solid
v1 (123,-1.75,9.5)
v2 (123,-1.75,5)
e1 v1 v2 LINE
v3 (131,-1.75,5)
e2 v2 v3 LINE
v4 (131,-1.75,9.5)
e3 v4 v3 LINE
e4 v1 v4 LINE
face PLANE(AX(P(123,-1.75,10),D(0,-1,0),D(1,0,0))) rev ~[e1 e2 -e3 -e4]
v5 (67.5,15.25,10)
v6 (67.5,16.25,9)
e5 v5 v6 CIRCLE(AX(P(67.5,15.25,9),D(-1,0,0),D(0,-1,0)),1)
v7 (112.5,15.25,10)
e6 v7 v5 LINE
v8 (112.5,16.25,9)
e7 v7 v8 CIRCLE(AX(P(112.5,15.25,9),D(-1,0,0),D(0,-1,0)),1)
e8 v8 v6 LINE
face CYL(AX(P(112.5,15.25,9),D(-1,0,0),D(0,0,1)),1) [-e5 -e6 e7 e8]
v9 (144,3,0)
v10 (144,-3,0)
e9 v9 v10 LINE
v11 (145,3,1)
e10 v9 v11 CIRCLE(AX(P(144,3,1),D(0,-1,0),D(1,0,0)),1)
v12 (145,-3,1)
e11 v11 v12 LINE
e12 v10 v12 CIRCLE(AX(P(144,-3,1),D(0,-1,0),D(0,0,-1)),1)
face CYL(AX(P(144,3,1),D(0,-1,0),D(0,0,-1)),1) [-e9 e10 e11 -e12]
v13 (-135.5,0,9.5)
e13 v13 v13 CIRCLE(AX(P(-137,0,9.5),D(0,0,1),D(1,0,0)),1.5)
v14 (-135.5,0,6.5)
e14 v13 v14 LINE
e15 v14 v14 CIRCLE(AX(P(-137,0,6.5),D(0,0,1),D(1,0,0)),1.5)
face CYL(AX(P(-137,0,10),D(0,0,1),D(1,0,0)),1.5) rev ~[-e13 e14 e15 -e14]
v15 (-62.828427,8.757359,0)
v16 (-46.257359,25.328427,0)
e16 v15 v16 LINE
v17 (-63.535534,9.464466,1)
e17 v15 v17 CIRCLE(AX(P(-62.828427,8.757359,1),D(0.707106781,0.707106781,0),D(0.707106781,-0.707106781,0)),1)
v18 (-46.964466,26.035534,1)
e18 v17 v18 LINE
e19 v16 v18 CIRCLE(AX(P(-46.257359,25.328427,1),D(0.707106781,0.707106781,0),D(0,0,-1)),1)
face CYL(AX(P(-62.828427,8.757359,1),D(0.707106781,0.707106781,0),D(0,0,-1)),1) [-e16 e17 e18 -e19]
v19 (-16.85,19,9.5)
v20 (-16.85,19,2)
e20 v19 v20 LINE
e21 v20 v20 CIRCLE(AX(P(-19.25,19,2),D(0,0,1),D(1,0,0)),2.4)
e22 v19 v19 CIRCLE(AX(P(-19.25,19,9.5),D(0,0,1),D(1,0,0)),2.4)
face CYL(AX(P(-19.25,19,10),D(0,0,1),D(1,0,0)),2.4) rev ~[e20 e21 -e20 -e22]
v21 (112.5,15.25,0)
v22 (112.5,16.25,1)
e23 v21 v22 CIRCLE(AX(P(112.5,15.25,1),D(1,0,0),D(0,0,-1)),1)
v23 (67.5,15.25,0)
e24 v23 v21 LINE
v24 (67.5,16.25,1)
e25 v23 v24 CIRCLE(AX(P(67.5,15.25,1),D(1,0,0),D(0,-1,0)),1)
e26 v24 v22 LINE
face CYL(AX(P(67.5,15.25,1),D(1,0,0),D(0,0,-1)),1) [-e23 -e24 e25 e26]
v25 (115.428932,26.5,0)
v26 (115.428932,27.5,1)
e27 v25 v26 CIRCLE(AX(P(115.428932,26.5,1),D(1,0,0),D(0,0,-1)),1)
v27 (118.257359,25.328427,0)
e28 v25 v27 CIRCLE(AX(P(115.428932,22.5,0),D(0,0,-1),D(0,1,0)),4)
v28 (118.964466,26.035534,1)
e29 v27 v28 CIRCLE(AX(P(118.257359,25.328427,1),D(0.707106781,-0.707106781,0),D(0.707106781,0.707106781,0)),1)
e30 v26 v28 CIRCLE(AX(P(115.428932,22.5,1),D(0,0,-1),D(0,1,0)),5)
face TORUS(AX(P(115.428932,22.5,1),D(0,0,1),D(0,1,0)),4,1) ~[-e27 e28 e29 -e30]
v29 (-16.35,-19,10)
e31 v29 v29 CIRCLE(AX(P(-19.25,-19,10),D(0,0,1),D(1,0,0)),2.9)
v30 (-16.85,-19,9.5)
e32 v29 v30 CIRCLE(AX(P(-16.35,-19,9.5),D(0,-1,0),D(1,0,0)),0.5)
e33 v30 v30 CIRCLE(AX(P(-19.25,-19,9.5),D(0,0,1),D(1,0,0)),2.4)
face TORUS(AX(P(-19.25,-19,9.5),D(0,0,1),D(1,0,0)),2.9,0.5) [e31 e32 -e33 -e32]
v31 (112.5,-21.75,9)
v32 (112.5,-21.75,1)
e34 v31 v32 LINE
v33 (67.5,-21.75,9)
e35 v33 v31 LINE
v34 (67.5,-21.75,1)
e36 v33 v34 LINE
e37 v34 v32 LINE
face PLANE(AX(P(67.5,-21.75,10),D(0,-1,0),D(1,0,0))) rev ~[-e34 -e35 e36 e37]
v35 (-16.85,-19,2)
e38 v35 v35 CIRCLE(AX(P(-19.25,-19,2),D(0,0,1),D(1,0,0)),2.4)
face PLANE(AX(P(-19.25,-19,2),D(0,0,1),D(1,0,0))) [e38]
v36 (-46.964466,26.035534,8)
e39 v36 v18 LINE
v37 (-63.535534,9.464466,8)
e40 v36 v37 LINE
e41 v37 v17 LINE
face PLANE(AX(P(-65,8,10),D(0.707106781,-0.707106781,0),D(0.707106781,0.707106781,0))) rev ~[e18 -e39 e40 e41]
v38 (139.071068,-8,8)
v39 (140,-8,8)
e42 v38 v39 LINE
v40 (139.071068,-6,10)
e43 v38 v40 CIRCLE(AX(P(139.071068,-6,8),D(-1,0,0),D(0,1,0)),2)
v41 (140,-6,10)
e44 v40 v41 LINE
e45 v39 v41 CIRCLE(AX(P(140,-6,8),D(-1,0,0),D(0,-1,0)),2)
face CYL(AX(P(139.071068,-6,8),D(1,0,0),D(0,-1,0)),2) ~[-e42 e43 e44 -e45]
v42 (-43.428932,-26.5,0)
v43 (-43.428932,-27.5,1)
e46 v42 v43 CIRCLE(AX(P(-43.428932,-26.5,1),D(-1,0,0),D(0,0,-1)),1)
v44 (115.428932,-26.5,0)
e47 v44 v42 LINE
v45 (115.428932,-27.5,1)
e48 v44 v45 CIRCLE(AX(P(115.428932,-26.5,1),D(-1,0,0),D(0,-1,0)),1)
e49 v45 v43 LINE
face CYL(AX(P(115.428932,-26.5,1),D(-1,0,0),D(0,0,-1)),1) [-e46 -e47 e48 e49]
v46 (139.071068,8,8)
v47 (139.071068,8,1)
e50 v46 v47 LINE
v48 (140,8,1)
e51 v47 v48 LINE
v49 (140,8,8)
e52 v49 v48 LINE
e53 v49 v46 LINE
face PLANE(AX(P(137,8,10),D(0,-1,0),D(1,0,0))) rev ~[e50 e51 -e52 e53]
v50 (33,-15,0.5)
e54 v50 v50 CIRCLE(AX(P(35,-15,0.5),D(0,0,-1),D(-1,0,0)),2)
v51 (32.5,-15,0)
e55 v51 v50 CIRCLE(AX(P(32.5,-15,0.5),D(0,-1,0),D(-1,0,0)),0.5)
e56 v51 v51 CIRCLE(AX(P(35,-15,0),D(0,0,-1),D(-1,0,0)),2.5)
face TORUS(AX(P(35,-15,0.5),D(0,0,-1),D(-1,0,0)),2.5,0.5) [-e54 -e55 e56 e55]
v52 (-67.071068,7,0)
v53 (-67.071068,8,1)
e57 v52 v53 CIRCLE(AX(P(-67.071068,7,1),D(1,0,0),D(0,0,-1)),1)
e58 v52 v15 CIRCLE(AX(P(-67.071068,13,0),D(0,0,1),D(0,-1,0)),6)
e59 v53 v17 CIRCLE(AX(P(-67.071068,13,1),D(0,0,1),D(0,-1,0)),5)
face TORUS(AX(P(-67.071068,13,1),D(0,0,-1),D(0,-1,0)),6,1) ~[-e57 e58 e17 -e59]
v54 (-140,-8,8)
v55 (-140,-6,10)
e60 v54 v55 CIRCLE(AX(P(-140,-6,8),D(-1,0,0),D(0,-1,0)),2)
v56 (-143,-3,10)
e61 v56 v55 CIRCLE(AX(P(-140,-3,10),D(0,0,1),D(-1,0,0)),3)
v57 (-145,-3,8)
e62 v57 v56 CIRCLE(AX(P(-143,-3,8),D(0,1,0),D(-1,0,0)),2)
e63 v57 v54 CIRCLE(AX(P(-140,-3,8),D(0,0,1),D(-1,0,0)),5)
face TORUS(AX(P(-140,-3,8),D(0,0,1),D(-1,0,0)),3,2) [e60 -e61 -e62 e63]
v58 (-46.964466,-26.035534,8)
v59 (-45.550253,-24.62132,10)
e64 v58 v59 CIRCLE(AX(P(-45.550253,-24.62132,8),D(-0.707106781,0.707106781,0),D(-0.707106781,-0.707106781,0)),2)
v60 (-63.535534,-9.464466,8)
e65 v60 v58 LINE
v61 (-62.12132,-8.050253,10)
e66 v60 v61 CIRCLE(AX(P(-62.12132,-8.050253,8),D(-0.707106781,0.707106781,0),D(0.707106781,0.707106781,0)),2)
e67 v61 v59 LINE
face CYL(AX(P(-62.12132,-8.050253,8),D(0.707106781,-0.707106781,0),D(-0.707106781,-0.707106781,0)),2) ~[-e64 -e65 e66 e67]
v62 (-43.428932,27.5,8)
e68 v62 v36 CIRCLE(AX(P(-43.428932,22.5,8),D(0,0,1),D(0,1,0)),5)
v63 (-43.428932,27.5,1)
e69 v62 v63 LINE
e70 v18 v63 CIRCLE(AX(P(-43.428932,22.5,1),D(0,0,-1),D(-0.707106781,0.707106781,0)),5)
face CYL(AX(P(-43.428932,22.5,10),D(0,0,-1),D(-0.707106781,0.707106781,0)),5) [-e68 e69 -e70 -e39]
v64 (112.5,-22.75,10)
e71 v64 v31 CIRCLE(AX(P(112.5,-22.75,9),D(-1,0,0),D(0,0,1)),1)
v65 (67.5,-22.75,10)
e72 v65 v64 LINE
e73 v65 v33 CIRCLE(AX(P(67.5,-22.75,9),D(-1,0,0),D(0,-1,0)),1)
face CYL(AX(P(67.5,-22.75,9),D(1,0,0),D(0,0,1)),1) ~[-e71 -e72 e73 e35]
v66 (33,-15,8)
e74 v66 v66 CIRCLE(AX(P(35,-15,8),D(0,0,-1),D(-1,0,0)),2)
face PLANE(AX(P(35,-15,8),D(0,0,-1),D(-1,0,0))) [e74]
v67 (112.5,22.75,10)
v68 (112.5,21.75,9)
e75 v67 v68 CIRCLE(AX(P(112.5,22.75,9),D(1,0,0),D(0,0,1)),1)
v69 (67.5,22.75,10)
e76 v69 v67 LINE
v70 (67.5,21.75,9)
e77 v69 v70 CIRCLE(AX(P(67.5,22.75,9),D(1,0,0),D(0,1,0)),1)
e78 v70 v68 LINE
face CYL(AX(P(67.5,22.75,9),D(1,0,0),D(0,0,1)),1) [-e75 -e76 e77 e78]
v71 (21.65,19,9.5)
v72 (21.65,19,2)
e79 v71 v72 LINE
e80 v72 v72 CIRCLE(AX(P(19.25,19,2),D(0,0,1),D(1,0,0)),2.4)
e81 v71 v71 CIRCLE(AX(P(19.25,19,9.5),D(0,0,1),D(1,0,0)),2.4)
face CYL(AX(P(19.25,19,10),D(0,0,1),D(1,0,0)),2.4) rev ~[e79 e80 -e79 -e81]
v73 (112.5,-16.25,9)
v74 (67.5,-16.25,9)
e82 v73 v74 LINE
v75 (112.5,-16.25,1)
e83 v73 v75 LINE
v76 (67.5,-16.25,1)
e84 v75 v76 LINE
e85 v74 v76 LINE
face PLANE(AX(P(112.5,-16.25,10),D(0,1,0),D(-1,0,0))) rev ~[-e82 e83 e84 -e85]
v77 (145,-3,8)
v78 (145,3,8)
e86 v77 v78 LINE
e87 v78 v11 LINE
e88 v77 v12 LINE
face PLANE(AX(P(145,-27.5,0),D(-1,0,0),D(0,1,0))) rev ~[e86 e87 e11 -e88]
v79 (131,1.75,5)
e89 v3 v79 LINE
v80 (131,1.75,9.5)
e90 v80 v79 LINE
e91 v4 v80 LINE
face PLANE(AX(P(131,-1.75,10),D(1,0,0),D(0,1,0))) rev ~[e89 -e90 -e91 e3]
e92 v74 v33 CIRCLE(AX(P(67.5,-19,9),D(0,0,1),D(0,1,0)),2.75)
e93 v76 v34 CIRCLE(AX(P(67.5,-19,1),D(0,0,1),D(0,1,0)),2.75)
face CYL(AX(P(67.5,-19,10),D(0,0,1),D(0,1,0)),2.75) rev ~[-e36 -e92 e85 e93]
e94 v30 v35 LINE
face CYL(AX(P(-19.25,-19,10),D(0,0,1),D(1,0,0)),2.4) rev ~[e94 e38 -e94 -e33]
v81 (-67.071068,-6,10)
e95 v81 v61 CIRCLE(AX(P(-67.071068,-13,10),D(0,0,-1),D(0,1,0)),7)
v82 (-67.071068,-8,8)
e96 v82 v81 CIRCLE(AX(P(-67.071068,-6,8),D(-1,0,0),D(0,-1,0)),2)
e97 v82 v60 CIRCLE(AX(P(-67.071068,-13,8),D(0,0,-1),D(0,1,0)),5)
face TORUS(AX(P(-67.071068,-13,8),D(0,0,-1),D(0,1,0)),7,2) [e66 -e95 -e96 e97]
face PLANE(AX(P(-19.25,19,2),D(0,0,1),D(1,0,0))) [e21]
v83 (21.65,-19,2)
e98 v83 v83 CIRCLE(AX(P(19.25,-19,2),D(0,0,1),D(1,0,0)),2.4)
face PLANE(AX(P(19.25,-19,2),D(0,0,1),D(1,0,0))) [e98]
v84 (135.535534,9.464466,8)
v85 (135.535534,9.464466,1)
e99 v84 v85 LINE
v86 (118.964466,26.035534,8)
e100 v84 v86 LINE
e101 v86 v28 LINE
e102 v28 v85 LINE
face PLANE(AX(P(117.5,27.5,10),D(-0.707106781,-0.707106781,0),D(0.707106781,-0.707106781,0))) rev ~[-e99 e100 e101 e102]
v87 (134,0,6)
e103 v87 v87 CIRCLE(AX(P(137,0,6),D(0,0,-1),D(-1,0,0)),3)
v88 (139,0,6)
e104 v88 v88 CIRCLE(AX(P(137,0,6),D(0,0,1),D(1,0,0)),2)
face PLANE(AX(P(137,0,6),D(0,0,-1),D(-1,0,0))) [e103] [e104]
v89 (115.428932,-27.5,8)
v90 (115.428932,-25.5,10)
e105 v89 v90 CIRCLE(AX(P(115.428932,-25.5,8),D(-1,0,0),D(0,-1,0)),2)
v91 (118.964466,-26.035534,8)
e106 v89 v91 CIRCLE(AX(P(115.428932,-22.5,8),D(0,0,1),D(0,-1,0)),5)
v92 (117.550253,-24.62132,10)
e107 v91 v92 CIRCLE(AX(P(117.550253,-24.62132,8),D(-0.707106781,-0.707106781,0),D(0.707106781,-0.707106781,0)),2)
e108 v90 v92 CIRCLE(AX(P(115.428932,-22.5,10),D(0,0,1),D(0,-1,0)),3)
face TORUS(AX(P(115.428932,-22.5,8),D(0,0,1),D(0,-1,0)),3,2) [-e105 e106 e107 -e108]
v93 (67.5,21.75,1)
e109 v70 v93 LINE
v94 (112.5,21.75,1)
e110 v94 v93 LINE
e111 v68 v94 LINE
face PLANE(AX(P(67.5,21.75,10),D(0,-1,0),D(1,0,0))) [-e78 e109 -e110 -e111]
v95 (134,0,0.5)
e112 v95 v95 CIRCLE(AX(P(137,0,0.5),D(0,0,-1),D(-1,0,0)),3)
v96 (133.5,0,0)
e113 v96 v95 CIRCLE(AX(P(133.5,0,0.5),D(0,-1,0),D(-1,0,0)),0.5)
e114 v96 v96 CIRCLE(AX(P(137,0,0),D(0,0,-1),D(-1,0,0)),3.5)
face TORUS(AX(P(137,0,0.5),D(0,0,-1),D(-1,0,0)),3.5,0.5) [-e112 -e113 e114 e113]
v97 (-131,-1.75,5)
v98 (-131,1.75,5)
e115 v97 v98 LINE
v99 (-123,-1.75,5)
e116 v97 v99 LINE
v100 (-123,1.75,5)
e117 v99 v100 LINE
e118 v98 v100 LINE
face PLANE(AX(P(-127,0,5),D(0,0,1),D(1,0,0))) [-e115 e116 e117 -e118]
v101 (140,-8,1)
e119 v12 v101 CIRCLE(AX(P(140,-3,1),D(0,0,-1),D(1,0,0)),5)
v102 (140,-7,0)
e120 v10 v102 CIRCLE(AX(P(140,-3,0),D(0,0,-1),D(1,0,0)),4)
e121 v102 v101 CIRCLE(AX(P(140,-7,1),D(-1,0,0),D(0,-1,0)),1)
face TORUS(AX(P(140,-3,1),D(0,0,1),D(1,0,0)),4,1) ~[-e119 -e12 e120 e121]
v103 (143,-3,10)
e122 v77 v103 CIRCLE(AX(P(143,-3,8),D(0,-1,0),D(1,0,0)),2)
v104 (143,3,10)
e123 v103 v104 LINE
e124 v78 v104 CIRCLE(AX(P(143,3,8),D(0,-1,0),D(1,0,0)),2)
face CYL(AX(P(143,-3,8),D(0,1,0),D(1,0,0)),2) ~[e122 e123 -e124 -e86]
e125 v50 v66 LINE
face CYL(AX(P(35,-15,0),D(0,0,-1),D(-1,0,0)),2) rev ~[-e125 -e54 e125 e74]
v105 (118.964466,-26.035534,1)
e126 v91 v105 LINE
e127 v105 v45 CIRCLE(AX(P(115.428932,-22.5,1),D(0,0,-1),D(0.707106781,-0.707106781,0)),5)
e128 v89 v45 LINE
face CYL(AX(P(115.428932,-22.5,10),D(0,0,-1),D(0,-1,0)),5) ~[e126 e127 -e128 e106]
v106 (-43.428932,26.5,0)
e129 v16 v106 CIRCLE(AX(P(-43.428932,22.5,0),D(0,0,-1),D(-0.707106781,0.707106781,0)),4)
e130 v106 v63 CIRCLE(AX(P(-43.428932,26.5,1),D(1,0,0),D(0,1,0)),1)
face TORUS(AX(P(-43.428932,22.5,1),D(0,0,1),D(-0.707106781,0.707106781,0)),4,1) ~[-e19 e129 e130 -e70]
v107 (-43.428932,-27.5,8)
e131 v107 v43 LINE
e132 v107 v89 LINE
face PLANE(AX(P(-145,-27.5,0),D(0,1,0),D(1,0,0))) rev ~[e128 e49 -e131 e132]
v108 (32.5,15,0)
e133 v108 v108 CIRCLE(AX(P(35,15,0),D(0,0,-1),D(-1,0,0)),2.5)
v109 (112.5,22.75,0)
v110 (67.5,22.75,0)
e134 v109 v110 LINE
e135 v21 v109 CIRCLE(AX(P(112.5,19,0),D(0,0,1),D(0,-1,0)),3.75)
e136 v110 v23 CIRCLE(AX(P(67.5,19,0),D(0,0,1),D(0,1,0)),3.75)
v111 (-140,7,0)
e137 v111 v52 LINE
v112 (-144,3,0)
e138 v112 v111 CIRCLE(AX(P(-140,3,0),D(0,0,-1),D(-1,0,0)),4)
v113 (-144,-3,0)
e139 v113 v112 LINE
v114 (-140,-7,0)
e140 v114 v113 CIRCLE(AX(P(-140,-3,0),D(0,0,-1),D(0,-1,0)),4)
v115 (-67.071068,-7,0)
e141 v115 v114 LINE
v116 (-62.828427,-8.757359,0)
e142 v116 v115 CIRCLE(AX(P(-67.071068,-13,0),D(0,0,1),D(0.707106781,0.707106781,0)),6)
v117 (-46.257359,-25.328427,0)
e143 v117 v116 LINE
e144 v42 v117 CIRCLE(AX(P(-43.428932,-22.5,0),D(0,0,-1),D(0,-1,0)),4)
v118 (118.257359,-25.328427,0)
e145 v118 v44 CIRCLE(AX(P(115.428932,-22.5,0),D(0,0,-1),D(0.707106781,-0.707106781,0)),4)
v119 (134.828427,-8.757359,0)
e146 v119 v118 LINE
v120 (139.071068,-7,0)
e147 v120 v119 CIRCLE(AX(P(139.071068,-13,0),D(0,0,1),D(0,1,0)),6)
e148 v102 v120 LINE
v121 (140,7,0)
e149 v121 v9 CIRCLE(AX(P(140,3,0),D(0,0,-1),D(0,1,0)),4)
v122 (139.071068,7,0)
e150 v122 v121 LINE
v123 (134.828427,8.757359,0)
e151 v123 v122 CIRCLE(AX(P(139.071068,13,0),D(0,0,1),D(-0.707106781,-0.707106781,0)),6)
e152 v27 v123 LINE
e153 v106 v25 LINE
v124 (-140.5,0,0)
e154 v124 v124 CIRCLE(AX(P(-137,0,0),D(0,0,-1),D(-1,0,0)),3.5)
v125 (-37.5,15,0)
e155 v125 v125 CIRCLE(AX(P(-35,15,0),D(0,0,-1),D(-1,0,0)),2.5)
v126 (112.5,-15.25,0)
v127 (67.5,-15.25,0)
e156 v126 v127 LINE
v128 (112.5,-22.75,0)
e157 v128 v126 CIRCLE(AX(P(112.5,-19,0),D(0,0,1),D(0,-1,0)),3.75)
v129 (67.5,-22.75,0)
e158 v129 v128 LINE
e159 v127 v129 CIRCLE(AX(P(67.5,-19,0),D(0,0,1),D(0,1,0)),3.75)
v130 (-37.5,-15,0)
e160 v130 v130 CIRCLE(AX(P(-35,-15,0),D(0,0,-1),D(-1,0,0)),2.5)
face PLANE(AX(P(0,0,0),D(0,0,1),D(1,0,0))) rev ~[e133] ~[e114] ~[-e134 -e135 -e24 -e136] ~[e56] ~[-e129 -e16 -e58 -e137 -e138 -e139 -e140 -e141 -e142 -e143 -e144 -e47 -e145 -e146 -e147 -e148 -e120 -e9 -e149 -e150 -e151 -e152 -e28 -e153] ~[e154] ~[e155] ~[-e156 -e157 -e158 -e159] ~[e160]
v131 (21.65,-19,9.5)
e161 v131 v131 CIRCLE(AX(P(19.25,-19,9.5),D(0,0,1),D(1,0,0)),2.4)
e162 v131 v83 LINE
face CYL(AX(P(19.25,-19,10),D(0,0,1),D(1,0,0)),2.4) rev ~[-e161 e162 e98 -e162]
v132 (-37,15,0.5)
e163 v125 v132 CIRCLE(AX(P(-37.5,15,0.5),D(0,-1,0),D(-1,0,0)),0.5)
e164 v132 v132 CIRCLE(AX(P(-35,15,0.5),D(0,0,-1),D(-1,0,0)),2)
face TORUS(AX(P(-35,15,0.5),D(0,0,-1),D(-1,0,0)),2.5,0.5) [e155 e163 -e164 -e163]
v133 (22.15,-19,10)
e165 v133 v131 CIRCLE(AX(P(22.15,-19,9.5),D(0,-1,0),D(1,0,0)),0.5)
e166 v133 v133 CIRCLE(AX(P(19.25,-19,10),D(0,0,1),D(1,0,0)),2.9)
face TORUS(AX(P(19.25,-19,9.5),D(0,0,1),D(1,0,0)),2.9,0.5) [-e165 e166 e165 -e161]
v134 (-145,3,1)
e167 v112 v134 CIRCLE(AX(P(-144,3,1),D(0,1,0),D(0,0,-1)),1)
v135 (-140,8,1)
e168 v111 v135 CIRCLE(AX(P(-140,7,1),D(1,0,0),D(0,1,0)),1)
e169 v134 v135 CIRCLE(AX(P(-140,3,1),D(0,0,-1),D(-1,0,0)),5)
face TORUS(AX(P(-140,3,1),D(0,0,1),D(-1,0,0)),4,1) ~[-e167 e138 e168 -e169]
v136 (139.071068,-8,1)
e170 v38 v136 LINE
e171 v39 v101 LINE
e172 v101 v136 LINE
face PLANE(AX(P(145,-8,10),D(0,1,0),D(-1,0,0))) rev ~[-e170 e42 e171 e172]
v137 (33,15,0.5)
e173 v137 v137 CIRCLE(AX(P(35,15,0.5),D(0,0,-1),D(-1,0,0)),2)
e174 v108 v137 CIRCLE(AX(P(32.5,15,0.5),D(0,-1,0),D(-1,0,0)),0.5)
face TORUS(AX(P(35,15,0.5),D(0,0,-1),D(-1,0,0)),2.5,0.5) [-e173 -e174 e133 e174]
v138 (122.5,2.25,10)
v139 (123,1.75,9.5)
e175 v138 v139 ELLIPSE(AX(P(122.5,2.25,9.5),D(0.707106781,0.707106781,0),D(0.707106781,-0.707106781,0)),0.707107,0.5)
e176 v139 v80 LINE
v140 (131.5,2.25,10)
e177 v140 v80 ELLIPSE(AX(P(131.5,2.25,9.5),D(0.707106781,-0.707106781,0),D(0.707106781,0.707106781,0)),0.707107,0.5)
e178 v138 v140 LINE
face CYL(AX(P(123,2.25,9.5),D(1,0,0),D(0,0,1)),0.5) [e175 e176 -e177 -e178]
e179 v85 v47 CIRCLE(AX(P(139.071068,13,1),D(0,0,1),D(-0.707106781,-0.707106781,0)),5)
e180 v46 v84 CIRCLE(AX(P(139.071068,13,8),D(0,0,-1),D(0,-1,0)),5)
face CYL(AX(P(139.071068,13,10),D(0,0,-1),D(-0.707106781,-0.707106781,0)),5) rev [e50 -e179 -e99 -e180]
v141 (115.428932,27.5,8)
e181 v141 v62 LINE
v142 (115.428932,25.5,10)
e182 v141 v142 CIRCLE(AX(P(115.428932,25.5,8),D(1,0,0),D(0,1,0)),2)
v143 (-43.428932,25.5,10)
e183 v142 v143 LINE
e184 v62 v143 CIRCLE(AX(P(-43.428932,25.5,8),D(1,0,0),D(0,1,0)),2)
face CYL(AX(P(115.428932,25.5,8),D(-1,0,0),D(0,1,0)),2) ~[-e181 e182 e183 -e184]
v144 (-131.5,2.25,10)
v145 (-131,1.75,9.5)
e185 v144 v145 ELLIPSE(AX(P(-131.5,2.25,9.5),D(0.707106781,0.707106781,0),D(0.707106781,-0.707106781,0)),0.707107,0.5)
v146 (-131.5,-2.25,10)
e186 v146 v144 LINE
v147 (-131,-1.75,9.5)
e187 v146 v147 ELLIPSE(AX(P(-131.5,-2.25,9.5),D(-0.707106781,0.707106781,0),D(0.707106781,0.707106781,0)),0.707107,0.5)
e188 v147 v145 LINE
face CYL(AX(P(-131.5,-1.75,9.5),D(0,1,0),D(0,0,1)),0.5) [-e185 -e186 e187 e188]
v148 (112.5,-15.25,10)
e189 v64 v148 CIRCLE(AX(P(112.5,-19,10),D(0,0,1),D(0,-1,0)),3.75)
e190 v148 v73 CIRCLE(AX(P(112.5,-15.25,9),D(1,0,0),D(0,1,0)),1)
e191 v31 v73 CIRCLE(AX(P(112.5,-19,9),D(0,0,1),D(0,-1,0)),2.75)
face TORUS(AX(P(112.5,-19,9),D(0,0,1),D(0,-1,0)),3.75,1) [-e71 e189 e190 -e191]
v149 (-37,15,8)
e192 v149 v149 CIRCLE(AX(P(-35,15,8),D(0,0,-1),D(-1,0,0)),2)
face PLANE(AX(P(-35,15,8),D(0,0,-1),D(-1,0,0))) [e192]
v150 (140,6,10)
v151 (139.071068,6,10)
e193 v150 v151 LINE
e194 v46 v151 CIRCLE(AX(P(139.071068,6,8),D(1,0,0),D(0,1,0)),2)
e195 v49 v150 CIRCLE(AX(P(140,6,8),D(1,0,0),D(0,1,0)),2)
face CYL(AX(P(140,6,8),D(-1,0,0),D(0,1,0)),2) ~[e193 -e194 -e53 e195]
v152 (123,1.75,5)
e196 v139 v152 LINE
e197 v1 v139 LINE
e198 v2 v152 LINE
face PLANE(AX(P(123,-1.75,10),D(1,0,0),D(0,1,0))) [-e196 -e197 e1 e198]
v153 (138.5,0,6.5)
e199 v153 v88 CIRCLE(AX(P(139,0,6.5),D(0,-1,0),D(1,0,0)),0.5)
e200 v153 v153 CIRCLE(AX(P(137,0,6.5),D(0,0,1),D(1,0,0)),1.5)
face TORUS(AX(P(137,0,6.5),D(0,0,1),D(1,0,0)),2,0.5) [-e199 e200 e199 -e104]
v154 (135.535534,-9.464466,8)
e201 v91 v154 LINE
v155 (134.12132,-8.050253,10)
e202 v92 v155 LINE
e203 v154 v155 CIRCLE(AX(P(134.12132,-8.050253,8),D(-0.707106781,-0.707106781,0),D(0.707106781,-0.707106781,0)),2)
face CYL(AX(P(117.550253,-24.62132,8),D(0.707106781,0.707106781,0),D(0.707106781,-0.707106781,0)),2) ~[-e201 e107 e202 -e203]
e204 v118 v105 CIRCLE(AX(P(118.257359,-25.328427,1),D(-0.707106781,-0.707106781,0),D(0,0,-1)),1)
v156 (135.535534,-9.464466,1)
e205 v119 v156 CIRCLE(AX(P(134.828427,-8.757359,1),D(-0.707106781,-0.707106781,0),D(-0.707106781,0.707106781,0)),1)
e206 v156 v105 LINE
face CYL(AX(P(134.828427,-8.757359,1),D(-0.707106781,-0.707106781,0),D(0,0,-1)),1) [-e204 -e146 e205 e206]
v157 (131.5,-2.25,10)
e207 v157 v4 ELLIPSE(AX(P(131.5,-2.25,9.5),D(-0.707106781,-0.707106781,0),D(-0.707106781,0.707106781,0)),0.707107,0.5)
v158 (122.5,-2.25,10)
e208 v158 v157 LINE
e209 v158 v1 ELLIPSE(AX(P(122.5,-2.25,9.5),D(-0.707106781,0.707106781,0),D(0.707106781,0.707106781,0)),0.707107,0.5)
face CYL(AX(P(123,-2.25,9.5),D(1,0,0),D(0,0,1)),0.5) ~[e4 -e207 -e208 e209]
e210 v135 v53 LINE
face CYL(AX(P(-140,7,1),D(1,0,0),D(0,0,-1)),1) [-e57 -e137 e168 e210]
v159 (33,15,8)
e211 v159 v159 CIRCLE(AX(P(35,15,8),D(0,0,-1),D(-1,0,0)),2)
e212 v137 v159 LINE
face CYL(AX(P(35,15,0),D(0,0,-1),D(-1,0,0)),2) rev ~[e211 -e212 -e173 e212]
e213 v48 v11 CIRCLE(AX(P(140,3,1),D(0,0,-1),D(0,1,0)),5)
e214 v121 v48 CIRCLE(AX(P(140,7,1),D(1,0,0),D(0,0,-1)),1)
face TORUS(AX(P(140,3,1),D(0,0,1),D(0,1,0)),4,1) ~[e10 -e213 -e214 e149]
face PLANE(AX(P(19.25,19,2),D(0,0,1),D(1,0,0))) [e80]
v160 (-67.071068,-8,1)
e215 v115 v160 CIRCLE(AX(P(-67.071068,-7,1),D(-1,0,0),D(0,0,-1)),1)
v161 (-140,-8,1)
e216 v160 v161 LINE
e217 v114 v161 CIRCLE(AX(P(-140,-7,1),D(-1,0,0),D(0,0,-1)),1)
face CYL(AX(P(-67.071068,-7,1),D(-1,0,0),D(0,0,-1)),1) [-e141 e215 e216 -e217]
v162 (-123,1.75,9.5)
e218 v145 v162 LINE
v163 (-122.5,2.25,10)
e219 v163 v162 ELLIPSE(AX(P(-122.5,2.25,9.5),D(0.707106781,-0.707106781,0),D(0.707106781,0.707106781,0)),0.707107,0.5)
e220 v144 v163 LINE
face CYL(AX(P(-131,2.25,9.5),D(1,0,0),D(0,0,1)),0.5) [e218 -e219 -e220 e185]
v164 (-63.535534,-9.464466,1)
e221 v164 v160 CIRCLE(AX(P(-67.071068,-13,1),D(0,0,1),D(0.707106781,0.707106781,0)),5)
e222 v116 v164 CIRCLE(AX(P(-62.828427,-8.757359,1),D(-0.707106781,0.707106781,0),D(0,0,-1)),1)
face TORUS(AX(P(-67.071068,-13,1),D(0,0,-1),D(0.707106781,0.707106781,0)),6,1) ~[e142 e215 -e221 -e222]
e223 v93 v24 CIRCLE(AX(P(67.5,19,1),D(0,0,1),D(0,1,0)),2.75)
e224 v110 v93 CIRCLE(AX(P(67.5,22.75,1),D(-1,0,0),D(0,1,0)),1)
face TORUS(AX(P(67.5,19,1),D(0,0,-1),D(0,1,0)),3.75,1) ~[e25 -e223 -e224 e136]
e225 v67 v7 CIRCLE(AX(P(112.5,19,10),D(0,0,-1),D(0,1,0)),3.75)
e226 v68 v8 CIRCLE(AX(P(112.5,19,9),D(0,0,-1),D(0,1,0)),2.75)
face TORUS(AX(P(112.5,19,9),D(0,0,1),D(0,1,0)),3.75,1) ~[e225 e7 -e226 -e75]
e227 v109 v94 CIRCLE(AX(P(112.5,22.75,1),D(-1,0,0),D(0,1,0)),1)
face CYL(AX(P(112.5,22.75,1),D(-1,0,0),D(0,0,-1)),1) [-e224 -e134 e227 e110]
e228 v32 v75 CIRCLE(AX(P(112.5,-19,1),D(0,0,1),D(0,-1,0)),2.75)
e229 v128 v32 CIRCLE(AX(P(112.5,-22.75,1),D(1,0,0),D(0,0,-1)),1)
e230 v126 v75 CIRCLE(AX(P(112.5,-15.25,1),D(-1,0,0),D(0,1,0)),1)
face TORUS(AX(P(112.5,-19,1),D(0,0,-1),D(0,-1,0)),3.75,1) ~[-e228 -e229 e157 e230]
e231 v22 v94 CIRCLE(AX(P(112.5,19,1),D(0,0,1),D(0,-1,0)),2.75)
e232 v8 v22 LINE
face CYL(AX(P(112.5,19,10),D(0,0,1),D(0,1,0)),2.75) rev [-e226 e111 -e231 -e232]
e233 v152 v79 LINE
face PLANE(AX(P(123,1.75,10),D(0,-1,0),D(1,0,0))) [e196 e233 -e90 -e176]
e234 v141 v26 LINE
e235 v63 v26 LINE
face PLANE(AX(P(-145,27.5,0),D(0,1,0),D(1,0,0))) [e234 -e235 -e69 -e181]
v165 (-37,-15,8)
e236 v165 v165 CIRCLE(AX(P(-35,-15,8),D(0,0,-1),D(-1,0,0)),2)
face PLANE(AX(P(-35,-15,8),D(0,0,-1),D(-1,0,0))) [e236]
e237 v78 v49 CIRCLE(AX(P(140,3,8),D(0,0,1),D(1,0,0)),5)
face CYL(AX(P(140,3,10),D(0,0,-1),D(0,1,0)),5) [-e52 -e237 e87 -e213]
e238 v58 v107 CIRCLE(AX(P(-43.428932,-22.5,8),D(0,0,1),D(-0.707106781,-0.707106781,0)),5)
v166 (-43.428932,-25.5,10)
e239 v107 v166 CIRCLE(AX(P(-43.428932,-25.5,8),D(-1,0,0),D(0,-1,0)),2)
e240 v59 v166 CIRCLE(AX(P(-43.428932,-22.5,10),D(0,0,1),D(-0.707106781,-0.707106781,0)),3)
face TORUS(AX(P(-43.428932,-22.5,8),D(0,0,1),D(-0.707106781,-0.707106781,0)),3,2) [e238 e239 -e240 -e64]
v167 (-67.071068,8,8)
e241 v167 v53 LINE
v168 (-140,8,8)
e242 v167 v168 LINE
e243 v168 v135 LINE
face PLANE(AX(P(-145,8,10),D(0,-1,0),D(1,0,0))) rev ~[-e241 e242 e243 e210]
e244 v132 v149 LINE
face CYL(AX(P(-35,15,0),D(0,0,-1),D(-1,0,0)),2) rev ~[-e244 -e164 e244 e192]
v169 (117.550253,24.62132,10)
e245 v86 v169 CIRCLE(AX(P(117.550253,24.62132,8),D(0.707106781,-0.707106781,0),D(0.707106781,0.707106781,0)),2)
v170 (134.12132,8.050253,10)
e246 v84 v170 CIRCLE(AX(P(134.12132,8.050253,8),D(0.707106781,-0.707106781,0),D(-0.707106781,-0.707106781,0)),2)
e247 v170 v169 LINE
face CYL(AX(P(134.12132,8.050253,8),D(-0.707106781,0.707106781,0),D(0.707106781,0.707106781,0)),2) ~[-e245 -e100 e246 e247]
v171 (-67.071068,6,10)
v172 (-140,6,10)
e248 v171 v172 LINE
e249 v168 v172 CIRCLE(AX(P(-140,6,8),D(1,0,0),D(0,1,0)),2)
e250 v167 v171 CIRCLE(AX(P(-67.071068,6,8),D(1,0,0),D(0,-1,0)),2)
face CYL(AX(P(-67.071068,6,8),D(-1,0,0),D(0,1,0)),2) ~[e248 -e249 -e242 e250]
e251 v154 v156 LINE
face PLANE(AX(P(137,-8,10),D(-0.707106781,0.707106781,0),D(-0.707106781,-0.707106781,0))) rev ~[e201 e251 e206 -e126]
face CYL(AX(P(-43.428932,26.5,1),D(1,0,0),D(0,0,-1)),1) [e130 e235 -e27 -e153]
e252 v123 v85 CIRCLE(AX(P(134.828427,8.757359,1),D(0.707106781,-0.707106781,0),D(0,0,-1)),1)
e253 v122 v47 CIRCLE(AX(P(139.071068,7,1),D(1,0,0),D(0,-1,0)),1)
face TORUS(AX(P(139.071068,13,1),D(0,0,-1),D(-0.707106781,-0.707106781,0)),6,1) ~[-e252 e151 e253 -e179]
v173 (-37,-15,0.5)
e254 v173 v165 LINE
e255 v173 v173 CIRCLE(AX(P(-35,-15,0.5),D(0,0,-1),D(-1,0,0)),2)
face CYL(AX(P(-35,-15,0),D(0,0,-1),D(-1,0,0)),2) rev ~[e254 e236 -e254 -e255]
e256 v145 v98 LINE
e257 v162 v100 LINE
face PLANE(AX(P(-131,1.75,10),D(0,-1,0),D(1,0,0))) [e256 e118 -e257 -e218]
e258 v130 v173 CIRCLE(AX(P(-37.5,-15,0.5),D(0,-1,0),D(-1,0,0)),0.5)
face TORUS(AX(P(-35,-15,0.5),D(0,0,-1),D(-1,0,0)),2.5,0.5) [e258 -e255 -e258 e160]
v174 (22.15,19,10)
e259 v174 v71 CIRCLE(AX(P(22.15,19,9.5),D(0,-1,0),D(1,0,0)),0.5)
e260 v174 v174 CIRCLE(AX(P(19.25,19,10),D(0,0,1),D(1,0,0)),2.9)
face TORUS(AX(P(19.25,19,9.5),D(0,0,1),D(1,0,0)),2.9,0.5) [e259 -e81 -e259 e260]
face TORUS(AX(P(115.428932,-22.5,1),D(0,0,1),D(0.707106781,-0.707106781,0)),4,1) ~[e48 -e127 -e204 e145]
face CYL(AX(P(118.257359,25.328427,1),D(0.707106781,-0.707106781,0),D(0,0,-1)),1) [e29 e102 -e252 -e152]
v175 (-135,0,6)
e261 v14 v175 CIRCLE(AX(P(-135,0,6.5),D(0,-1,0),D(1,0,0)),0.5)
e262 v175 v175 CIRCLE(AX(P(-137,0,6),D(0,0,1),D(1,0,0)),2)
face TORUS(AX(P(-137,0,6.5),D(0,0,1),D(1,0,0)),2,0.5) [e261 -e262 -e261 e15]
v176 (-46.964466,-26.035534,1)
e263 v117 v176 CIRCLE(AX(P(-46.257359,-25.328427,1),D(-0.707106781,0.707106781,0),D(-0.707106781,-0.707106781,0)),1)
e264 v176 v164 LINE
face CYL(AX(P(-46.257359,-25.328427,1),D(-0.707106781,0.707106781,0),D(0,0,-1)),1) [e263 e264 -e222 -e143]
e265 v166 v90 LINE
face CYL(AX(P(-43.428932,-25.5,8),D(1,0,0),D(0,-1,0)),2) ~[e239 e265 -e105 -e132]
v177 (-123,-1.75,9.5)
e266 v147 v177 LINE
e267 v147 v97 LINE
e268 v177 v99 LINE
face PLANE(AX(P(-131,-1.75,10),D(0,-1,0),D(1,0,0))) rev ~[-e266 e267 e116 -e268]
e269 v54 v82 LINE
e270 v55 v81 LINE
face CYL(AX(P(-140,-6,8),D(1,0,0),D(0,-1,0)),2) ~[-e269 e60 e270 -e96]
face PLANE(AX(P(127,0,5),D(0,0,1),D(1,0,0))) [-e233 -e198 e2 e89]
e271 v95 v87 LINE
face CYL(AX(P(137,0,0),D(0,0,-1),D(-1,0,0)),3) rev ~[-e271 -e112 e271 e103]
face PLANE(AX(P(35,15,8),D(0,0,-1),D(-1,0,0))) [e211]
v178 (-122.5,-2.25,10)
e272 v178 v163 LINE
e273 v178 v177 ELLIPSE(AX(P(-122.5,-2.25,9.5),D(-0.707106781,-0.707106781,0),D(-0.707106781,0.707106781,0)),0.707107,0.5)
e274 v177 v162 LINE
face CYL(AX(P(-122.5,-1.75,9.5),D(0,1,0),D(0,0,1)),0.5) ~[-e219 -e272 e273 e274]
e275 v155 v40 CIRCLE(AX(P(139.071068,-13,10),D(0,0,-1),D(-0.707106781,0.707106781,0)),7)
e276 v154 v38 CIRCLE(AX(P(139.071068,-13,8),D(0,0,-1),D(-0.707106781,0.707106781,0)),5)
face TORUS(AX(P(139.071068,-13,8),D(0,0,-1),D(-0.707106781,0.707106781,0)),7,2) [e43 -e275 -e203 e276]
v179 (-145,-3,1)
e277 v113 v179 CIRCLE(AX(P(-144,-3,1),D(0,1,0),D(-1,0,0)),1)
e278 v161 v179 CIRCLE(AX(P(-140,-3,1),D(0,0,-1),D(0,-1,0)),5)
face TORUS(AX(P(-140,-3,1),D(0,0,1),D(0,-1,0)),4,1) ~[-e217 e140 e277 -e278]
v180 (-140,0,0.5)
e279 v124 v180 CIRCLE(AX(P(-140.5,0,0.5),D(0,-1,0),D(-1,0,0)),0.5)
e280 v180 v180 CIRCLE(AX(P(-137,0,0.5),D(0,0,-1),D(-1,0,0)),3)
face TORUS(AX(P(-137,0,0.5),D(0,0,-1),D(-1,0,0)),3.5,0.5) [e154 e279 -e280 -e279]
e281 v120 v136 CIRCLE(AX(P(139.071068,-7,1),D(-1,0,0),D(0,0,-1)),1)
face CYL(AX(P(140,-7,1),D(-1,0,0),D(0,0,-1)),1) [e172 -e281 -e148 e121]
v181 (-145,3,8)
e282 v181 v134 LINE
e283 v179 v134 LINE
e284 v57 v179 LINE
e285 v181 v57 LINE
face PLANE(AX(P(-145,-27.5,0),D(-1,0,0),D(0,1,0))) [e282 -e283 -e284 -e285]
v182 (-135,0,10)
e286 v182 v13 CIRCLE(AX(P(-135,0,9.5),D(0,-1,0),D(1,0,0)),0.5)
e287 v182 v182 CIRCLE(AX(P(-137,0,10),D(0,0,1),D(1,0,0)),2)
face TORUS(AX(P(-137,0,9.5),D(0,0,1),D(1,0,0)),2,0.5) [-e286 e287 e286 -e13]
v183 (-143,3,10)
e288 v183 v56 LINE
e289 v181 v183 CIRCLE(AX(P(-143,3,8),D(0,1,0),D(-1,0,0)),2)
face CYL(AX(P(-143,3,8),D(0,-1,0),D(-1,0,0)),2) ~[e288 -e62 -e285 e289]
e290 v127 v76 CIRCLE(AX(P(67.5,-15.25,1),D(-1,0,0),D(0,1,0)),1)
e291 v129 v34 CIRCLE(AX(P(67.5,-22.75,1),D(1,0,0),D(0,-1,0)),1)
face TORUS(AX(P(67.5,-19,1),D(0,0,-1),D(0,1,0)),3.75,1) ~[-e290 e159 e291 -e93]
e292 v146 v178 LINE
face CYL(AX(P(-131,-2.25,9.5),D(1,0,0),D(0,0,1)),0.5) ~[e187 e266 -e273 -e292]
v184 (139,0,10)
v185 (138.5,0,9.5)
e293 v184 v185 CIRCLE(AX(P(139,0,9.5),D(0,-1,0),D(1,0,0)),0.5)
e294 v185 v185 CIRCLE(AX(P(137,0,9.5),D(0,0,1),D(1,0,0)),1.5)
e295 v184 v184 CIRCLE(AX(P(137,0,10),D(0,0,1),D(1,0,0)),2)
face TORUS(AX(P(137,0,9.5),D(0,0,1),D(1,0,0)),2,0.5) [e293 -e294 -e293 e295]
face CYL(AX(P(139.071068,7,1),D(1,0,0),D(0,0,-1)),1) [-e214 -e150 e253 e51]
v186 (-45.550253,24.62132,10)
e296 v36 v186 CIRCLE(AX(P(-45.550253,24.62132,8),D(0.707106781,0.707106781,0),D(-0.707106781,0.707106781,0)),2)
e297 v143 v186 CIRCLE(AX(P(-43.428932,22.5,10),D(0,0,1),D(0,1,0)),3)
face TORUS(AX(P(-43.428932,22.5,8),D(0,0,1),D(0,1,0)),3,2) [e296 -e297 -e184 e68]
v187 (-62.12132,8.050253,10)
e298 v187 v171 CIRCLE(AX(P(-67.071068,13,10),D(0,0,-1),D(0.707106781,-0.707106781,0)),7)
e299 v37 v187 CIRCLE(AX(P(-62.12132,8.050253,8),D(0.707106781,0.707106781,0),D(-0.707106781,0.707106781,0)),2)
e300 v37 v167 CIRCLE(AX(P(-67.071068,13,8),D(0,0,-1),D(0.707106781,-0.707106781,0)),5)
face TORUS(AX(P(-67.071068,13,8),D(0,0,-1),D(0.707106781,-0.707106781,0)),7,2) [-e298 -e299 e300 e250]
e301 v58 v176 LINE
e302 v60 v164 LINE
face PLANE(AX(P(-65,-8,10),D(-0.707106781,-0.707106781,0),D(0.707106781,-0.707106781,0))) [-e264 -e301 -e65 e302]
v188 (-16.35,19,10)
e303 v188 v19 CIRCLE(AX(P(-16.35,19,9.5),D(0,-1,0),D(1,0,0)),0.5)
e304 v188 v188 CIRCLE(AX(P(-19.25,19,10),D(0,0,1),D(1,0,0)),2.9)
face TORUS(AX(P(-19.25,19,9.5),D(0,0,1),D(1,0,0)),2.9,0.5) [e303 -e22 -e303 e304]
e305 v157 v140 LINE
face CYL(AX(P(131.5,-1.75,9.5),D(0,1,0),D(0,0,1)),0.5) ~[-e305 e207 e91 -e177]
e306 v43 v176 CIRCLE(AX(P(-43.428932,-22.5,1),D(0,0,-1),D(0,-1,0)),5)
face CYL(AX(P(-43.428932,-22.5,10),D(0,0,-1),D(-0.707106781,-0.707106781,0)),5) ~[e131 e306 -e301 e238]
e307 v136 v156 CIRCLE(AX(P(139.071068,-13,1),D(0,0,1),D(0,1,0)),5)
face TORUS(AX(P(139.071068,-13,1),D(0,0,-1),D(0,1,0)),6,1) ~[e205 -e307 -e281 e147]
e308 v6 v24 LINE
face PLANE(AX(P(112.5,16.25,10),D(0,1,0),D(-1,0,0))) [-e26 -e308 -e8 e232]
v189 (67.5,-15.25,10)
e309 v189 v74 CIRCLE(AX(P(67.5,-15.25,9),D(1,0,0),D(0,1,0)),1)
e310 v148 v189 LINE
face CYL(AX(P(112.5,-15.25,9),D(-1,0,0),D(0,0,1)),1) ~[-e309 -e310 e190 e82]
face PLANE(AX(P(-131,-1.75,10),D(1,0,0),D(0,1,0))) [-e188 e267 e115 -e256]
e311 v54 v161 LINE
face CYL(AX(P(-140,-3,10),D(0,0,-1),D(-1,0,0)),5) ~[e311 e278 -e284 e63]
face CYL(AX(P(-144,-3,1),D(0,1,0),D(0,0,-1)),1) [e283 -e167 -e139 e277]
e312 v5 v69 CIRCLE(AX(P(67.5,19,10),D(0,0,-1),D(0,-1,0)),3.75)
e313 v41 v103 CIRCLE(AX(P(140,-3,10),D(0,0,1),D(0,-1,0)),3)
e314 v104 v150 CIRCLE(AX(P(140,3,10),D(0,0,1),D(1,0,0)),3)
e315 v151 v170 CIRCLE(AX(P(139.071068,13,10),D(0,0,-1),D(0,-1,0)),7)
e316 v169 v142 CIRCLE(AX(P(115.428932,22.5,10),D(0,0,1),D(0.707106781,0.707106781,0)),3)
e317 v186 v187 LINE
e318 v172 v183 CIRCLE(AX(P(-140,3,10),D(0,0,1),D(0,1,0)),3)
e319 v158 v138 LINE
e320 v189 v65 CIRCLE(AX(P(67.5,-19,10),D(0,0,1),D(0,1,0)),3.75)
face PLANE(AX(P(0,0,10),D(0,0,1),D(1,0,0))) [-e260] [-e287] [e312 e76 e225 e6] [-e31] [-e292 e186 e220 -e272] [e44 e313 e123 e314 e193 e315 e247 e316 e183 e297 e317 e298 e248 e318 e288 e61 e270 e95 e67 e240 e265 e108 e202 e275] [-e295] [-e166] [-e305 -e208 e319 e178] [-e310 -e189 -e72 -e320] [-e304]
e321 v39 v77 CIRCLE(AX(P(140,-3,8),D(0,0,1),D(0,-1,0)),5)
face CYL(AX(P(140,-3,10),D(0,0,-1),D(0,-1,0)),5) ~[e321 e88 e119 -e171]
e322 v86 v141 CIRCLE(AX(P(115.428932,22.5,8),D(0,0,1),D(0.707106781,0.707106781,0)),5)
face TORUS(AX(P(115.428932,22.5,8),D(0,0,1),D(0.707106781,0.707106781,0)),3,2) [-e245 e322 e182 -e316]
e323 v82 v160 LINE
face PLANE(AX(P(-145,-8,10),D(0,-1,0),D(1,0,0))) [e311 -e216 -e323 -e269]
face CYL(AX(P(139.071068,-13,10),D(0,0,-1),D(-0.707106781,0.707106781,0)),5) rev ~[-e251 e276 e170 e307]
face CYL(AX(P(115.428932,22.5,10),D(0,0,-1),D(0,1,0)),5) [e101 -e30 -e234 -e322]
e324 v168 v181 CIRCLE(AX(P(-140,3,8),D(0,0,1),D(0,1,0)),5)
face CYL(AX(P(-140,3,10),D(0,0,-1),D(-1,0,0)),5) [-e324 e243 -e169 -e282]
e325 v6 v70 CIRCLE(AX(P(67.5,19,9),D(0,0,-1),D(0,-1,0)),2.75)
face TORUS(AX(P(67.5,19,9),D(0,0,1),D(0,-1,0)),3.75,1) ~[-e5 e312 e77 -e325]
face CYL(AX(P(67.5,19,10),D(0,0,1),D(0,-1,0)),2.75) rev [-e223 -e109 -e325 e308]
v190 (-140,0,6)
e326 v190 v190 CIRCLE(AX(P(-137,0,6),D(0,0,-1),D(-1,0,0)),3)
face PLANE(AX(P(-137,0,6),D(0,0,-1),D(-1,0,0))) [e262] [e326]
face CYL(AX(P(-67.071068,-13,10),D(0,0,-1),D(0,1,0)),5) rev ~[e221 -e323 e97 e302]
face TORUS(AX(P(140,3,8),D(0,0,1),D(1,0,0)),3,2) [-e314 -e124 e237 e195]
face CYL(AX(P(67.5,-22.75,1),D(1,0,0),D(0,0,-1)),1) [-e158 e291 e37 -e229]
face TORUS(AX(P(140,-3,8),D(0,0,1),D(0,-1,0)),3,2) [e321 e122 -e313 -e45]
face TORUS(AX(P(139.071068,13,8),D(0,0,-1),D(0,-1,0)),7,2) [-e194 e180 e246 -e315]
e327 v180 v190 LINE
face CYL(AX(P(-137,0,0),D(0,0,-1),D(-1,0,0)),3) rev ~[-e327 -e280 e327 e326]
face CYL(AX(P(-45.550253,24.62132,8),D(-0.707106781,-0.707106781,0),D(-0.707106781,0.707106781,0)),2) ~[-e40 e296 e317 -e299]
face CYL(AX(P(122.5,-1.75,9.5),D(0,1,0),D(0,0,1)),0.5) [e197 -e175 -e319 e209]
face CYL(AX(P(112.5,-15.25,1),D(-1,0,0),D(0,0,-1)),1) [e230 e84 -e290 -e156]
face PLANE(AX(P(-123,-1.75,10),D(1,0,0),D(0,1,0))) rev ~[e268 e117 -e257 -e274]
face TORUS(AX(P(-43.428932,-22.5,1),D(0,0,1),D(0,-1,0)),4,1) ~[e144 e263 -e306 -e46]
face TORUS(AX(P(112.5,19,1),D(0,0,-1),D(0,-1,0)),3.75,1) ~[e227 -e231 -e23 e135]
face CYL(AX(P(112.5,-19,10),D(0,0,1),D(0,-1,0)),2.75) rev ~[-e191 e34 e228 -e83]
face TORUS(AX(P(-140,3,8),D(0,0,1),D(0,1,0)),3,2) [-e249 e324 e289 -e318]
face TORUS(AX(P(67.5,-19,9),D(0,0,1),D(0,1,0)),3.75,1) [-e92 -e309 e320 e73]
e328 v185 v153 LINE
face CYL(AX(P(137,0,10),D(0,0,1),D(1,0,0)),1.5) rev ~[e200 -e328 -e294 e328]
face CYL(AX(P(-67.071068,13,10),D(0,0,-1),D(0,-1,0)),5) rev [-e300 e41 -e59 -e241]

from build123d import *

# Parameters (mm, degrees)
SKETCH1_W           = 290
SKETCH1_H           = 55
BOSS_EXTRUDE1_DEPTH = 10
SKETCH2_R           = 2.4
CUT_EXTRUDE1_DEPTH  = 8
CUT_EXTRUDE2_REACH  = 12
CUT_EXTRUDE3_REACH  = 12
SKETCH6_R           = 1.5
CUT_EXTRUDE4_REACH  = 12
SKETCH8_R           = 2
CUT_EXTRUDE5_DEPTH  = 8
SKETCH10_R          = 3
CUT_EXTRUDE6_DEPTH  = 6
SKETCH11_W          = 8
SKETCH11_H          = 3.5
CUT_EXTRUDE7_DEPTH  = 5
FILLET2_R           = 5
FILLET3_R           = 0.5
FILLET4_R           = 2
FILLET5_R           = 1


with BuildPart() as part:
    # Sketch1 → Boss-Extrude1 (new body)
    with BuildSketch(Plane.XY):
        Rectangle(SKETCH1_W, SKETCH1_H)
    extrude(amount=BOSS_EXTRUDE1_DEPTH)

    # Sketch2 → Cut-Extrude1 (cut)
    with BuildSketch(Plane.XY.offset(10)):
        with Locations((-19.25, 19)):
            Circle(SKETCH2_R)
        with Locations((19.25, 19)):
            Circle(SKETCH2_R)
        with Locations((19.25, -19)):
            Circle(SKETCH2_R)
        with Locations((-19.25, -19)):
            Circle(SKETCH2_R)
    extrude(amount=-CUT_EXTRUDE1_DEPTH, mode=Mode.SUBTRACT)

    # Sketch5 → Cut-Extrude2 (cut, up to next)
    with BuildSketch(Plane.XY.offset(10), mode=Mode.PRIVATE) as cut_extrude2_sk1:
        with BuildLine():
            Line((67.5, 21.75), (112.5, 21.75))
            ThreePointArc((112.5, 21.75), (115.25, 19), (112.5, 16.25))
            Line((112.5, 16.25), (67.5, 16.25))
            ThreePointArc((67.5, 16.25), (64.75, 19), (67.5, 21.75))
        make_face()
    cut_extrude2_tool1 = extrude(cut_extrude2_sk1.sketch, amount=-CUT_EXTRUDE2_REACH, mode=Mode.PRIVATE) & part.part
    add(cut_extrude2_tool1.solids().sort_by_distance((90, 19, 10))[0], mode=Mode.SUBTRACT)
    # Sketch5 → Cut-Extrude2 (cut, up to next)
    with BuildSketch(Plane.XY.offset(10), mode=Mode.PRIVATE) as cut_extrude2_sk2:
        with BuildLine():
            Line((67.5, -21.75), (112.5, -21.75))
            ThreePointArc((112.5, -21.75), (115.25, -19), (112.5, -16.25))
            Line((112.5, -16.25), (67.5, -16.25))
            ThreePointArc((67.5, -16.25), (64.75, -19), (67.5, -21.75))
        make_face()
    cut_extrude2_tool2 = extrude(cut_extrude2_sk2.sketch, amount=-CUT_EXTRUDE2_REACH, mode=Mode.PRIVATE) & part.part
    add(cut_extrude2_tool2.solids().sort_by_distance((90, -19, 10))[0], mode=Mode.SUBTRACT)

    # Sketch6 → Cut-Extrude3 (cut, up to next)
    with BuildSketch(Plane.XY.offset(10), mode=Mode.PRIVATE) as cut_extrude3_sk1:
        with Locations((137, 0)):
            Circle(SKETCH6_R)
    cut_extrude3_tool1 = extrude(cut_extrude3_sk1.sketch, amount=-CUT_EXTRUDE3_REACH, mode=Mode.PRIVATE) & part.part
    add(cut_extrude3_tool1.solids().sort_by_distance((137, 0, 10))[0], mode=Mode.SUBTRACT)
    # Sketch6 → Cut-Extrude3 (cut, up to next)
    with BuildSketch(Plane.XY.offset(10), mode=Mode.PRIVATE) as cut_extrude3_sk2:
        with Locations((-137, 0)):
            Circle(SKETCH6_R)
    cut_extrude3_tool2 = extrude(cut_extrude3_sk2.sketch, amount=-CUT_EXTRUDE3_REACH, mode=Mode.PRIVATE) & part.part
    add(cut_extrude3_tool2.solids().sort_by_distance((-137, 0, 10))[0], mode=Mode.SUBTRACT)

    # Sketch7 → Cut-Extrude4 (cut, up to next)
    with BuildSketch(Plane.XY.offset(10), mode=Mode.PRIVATE) as cut_extrude4_sk1:
        Polygon((-145, 8), (-65, 8), (-45.5, 27.5), (-145, 27.5), align=None)
    cut_extrude4_tool1 = extrude(cut_extrude4_sk1.sketch, amount=-CUT_EXTRUDE4_REACH, mode=Mode.PRIVATE) & part.part
    add(cut_extrude4_tool1.solids().sort_by_distance((-99.948468, 18.103064, 10))[0], mode=Mode.SUBTRACT)
    # Sketch7 → Cut-Extrude4 (cut, up to next)
    with BuildSketch(Plane.XY.offset(10), mode=Mode.PRIVATE) as cut_extrude4_sk2:
        Polygon((-65, -8), (-45.5, -27.5), (-145, -27.5), (-145, -8), align=None)
    cut_extrude4_tool2 = extrude(cut_extrude4_sk2.sketch, amount=-CUT_EXTRUDE4_REACH, mode=Mode.PRIVATE) & part.part
    add(cut_extrude4_tool2.solids().sort_by_distance((-99.948468, -18.103064, 10))[0], mode=Mode.SUBTRACT)
    # Sketch7 → Cut-Extrude4 (cut, up to next)
    with BuildSketch(Plane.XY.offset(10), mode=Mode.PRIVATE) as cut_extrude4_sk3:
        Polygon((117.5, 27.5), (137, 8), (145, 8), (145, 27.5), align=None)
    cut_extrude4_tool3 = extrude(cut_extrude4_sk3.sketch, amount=-CUT_EXTRUDE4_REACH, mode=Mode.PRIVATE) & part.part
    add(cut_extrude4_tool3.solids().sort_by_distance((135.232394, 19.535211, 10))[0], mode=Mode.SUBTRACT)
    # Sketch7 → Cut-Extrude4 (cut, up to next)
    with BuildSketch(Plane.XY.offset(10), mode=Mode.PRIVATE) as cut_extrude4_sk4:
        Polygon((117.5, -27.5), (145, -27.5), (145, -8), (137, -8), align=None)
    cut_extrude4_tool4 = extrude(cut_extrude4_sk4.sketch, amount=-CUT_EXTRUDE4_REACH, mode=Mode.PRIVATE) & part.part
    add(cut_extrude4_tool4.solids().sort_by_distance((135.232394, -19.535211, 10))[0], mode=Mode.SUBTRACT)

    # Sketch8 → Cut-Extrude5 (cut)
    with BuildSketch(Plane(origin=(0, 0, 0), x_dir=(-1, 0, 0), z_dir=(0, 0, -1))):
        with Locations((35, 15)):
            Circle(SKETCH8_R)
        with Locations((35, -15)):
            Circle(SKETCH8_R)
        with Locations((-35, -15)):
            Circle(SKETCH8_R)
        with Locations((-35, 15)):
            Circle(SKETCH8_R)
    extrude(amount=-CUT_EXTRUDE5_DEPTH, mode=Mode.SUBTRACT)

    # Sketch10 → Cut-Extrude6 (cut)
    with BuildSketch(Plane(origin=(0, 0, 0), x_dir=(-1, 0, 0), z_dir=(0, 0, -1))):
        with Locations((-137, 0)):
            Circle(SKETCH10_R)
        with Locations((137, 0)):
            Circle(SKETCH10_R)
    extrude(amount=-CUT_EXTRUDE6_DEPTH, mode=Mode.SUBTRACT)

    # Sketch11 → Cut-Extrude7 (cut)
    with BuildSketch(Plane.XY.offset(10)):
        with Locations((-127, 0)):
            Rectangle(SKETCH11_W, SKETCH11_H)
        with Locations((127, 0)):
            Rectangle(SKETCH11_W, SKETCH11_H)
    extrude(amount=-CUT_EXTRUDE7_DEPTH, mode=Mode.SUBTRACT)

    # Fillet2
    fillet2_edges = [part.edges().sort_by_distance(p)[0] for p in [
        (117.5, -27.5, 5),
        (137, -8, 5),
        (145, -8, 5),
        (-145, 8, 5),
        (-45.5, 27.5, 5),
        (-65, 8, 5),
        (-145, -8, 5),
        (-65, -8, 5),
        (-45.5, -27.5, 5),
        (117.5, 27.5, 5),
        (145, 8, 5),
        (137, 8, 5),
    ]]
    fillet(fillet2_edges, radius=FILLET2_R)

    # Fillet3
    fillet3_edges = [part.edges().sort_by_distance(p)[0] for p in [
        (37, 15, 0),
        (37, -15, 0),
        (-33, -15, 0),
        (-33, 15, 0),
        (140, 0, 0),
        (135.5, 0, 6),
        (-134, 0, 0),
        (-138.5, 0, 6),
        (-123, 0, 10),
        (-127, 1.75, 10),
        (-131, 0, 10),
        (-127, -1.75, 10),
        (131, 0, 10),
        (127, 1.75, 10),
        (123, 0, 10),
        (127, -1.75, 10),
        (-21.65, -19, 10),
        (16.85, -19, 10),
        (16.85, 19, 10),
        (-21.65, 19, 10),
        (135.5, 0, 10),
        (-138.5, 0, 10),
    ]]
    fillet(fillet3_edges, radius=FILLET3_R)

    # Fillet4
    fillet4_edges = [part.edges().sort_by_distance(p)[0] for p in [
        (-103.535533906, -8, 10),
        (-55.25, -17.75, 10),
        (-145, 0, 10),
        (36, -27.5, 10),
        (127.25, -17.75, 10),
        (139.535533906, -8, 10),
        (145, 0, 10),
        (139.535533906, 8, 10),
        (127.25, 17.75, 10),
        (36, 27.5, 10),
        (-55.25, 17.75, 10),
        (-103.535533906, 8, 10),
        (-143.535533906, -6.535533906, 10),
        (-143.535533906, 6.535533906, 10),
        (-45.34234935, 27.119397663, 10),
        (117.34234935, 27.119397663, 10),
        (143.535533906, 6.535533906, 10),
        (143.535533906, -6.535533906, 10),
        (117.34234935, -27.119397663, 10),
        (-45.34234935, -27.119397663, 10),
        (-65.15765065, -8.380602337, 10),
        (137.15765065, -8.380602337, 10),
        (137.15765065, 8.380602337, 10),
        (-65.15765065, 8.380602337, 10),
    ]]
    fillet(fillet4_edges, radius=FILLET4_R)

    # Fillet5
    fillet5_edges = [part.edges().sort_by_distance(p)[0] for p in [
        (-103.535533906, -8, 0),
        (-55.25, -17.75, 0),
        (36, -27.5, 0),
        (-145, 0, 0),
        (-103.535533906, 8, 0),
        (-55.25, 17.75, 0),
        (36, 27.5, 0),
        (127.25, 17.75, 0),
        (139.535533906, 8, 0),
        (145, 0, 0),
        (139.535533906, -8, 0),
        (127.25, -17.75, 0),
        (-143.535533906, -6.535533906, 0),
        (-143.535533906, 6.535533906, 0),
        (-45.34234935, 27.119397663, 0),
        (117.34234935, 27.119397663, 0),
        (143.535533906, 6.535533906, 0),
        (143.535533906, -6.535533906, 0),
        (117.34234935, -27.119397663, 0),
        (-45.34234935, -27.119397663, 0),
        (-65.15765065, -8.380602337, 0),
        (137.15765065, -8.380602337, 0),
        (137.15765065, 8.380602337, 0),
        (-65.15765065, 8.380602337, 0),
        (64.75, 19, 0),
        (90, 21.75, 0),
        (115.25, 19, 0),
        (90, 16.25, 0),
        (64.75, 19, 10),
        (90, 16.25, 10),
        (115.25, 19, 10),
        (90, 21.75, 10),
        (64.75, -19, 0),
        (90, -16.25, 0),
        (115.25, -19, 0),
        (90, -21.75, 0),
        (64.75, -19, 10),
        (90, -21.75, 10),
        (115.25, -19, 10),
        (90, -16.25, 10),
    ]]
    fillet(fillet5_edges, radius=FILLET5_R)


solid = part.part
